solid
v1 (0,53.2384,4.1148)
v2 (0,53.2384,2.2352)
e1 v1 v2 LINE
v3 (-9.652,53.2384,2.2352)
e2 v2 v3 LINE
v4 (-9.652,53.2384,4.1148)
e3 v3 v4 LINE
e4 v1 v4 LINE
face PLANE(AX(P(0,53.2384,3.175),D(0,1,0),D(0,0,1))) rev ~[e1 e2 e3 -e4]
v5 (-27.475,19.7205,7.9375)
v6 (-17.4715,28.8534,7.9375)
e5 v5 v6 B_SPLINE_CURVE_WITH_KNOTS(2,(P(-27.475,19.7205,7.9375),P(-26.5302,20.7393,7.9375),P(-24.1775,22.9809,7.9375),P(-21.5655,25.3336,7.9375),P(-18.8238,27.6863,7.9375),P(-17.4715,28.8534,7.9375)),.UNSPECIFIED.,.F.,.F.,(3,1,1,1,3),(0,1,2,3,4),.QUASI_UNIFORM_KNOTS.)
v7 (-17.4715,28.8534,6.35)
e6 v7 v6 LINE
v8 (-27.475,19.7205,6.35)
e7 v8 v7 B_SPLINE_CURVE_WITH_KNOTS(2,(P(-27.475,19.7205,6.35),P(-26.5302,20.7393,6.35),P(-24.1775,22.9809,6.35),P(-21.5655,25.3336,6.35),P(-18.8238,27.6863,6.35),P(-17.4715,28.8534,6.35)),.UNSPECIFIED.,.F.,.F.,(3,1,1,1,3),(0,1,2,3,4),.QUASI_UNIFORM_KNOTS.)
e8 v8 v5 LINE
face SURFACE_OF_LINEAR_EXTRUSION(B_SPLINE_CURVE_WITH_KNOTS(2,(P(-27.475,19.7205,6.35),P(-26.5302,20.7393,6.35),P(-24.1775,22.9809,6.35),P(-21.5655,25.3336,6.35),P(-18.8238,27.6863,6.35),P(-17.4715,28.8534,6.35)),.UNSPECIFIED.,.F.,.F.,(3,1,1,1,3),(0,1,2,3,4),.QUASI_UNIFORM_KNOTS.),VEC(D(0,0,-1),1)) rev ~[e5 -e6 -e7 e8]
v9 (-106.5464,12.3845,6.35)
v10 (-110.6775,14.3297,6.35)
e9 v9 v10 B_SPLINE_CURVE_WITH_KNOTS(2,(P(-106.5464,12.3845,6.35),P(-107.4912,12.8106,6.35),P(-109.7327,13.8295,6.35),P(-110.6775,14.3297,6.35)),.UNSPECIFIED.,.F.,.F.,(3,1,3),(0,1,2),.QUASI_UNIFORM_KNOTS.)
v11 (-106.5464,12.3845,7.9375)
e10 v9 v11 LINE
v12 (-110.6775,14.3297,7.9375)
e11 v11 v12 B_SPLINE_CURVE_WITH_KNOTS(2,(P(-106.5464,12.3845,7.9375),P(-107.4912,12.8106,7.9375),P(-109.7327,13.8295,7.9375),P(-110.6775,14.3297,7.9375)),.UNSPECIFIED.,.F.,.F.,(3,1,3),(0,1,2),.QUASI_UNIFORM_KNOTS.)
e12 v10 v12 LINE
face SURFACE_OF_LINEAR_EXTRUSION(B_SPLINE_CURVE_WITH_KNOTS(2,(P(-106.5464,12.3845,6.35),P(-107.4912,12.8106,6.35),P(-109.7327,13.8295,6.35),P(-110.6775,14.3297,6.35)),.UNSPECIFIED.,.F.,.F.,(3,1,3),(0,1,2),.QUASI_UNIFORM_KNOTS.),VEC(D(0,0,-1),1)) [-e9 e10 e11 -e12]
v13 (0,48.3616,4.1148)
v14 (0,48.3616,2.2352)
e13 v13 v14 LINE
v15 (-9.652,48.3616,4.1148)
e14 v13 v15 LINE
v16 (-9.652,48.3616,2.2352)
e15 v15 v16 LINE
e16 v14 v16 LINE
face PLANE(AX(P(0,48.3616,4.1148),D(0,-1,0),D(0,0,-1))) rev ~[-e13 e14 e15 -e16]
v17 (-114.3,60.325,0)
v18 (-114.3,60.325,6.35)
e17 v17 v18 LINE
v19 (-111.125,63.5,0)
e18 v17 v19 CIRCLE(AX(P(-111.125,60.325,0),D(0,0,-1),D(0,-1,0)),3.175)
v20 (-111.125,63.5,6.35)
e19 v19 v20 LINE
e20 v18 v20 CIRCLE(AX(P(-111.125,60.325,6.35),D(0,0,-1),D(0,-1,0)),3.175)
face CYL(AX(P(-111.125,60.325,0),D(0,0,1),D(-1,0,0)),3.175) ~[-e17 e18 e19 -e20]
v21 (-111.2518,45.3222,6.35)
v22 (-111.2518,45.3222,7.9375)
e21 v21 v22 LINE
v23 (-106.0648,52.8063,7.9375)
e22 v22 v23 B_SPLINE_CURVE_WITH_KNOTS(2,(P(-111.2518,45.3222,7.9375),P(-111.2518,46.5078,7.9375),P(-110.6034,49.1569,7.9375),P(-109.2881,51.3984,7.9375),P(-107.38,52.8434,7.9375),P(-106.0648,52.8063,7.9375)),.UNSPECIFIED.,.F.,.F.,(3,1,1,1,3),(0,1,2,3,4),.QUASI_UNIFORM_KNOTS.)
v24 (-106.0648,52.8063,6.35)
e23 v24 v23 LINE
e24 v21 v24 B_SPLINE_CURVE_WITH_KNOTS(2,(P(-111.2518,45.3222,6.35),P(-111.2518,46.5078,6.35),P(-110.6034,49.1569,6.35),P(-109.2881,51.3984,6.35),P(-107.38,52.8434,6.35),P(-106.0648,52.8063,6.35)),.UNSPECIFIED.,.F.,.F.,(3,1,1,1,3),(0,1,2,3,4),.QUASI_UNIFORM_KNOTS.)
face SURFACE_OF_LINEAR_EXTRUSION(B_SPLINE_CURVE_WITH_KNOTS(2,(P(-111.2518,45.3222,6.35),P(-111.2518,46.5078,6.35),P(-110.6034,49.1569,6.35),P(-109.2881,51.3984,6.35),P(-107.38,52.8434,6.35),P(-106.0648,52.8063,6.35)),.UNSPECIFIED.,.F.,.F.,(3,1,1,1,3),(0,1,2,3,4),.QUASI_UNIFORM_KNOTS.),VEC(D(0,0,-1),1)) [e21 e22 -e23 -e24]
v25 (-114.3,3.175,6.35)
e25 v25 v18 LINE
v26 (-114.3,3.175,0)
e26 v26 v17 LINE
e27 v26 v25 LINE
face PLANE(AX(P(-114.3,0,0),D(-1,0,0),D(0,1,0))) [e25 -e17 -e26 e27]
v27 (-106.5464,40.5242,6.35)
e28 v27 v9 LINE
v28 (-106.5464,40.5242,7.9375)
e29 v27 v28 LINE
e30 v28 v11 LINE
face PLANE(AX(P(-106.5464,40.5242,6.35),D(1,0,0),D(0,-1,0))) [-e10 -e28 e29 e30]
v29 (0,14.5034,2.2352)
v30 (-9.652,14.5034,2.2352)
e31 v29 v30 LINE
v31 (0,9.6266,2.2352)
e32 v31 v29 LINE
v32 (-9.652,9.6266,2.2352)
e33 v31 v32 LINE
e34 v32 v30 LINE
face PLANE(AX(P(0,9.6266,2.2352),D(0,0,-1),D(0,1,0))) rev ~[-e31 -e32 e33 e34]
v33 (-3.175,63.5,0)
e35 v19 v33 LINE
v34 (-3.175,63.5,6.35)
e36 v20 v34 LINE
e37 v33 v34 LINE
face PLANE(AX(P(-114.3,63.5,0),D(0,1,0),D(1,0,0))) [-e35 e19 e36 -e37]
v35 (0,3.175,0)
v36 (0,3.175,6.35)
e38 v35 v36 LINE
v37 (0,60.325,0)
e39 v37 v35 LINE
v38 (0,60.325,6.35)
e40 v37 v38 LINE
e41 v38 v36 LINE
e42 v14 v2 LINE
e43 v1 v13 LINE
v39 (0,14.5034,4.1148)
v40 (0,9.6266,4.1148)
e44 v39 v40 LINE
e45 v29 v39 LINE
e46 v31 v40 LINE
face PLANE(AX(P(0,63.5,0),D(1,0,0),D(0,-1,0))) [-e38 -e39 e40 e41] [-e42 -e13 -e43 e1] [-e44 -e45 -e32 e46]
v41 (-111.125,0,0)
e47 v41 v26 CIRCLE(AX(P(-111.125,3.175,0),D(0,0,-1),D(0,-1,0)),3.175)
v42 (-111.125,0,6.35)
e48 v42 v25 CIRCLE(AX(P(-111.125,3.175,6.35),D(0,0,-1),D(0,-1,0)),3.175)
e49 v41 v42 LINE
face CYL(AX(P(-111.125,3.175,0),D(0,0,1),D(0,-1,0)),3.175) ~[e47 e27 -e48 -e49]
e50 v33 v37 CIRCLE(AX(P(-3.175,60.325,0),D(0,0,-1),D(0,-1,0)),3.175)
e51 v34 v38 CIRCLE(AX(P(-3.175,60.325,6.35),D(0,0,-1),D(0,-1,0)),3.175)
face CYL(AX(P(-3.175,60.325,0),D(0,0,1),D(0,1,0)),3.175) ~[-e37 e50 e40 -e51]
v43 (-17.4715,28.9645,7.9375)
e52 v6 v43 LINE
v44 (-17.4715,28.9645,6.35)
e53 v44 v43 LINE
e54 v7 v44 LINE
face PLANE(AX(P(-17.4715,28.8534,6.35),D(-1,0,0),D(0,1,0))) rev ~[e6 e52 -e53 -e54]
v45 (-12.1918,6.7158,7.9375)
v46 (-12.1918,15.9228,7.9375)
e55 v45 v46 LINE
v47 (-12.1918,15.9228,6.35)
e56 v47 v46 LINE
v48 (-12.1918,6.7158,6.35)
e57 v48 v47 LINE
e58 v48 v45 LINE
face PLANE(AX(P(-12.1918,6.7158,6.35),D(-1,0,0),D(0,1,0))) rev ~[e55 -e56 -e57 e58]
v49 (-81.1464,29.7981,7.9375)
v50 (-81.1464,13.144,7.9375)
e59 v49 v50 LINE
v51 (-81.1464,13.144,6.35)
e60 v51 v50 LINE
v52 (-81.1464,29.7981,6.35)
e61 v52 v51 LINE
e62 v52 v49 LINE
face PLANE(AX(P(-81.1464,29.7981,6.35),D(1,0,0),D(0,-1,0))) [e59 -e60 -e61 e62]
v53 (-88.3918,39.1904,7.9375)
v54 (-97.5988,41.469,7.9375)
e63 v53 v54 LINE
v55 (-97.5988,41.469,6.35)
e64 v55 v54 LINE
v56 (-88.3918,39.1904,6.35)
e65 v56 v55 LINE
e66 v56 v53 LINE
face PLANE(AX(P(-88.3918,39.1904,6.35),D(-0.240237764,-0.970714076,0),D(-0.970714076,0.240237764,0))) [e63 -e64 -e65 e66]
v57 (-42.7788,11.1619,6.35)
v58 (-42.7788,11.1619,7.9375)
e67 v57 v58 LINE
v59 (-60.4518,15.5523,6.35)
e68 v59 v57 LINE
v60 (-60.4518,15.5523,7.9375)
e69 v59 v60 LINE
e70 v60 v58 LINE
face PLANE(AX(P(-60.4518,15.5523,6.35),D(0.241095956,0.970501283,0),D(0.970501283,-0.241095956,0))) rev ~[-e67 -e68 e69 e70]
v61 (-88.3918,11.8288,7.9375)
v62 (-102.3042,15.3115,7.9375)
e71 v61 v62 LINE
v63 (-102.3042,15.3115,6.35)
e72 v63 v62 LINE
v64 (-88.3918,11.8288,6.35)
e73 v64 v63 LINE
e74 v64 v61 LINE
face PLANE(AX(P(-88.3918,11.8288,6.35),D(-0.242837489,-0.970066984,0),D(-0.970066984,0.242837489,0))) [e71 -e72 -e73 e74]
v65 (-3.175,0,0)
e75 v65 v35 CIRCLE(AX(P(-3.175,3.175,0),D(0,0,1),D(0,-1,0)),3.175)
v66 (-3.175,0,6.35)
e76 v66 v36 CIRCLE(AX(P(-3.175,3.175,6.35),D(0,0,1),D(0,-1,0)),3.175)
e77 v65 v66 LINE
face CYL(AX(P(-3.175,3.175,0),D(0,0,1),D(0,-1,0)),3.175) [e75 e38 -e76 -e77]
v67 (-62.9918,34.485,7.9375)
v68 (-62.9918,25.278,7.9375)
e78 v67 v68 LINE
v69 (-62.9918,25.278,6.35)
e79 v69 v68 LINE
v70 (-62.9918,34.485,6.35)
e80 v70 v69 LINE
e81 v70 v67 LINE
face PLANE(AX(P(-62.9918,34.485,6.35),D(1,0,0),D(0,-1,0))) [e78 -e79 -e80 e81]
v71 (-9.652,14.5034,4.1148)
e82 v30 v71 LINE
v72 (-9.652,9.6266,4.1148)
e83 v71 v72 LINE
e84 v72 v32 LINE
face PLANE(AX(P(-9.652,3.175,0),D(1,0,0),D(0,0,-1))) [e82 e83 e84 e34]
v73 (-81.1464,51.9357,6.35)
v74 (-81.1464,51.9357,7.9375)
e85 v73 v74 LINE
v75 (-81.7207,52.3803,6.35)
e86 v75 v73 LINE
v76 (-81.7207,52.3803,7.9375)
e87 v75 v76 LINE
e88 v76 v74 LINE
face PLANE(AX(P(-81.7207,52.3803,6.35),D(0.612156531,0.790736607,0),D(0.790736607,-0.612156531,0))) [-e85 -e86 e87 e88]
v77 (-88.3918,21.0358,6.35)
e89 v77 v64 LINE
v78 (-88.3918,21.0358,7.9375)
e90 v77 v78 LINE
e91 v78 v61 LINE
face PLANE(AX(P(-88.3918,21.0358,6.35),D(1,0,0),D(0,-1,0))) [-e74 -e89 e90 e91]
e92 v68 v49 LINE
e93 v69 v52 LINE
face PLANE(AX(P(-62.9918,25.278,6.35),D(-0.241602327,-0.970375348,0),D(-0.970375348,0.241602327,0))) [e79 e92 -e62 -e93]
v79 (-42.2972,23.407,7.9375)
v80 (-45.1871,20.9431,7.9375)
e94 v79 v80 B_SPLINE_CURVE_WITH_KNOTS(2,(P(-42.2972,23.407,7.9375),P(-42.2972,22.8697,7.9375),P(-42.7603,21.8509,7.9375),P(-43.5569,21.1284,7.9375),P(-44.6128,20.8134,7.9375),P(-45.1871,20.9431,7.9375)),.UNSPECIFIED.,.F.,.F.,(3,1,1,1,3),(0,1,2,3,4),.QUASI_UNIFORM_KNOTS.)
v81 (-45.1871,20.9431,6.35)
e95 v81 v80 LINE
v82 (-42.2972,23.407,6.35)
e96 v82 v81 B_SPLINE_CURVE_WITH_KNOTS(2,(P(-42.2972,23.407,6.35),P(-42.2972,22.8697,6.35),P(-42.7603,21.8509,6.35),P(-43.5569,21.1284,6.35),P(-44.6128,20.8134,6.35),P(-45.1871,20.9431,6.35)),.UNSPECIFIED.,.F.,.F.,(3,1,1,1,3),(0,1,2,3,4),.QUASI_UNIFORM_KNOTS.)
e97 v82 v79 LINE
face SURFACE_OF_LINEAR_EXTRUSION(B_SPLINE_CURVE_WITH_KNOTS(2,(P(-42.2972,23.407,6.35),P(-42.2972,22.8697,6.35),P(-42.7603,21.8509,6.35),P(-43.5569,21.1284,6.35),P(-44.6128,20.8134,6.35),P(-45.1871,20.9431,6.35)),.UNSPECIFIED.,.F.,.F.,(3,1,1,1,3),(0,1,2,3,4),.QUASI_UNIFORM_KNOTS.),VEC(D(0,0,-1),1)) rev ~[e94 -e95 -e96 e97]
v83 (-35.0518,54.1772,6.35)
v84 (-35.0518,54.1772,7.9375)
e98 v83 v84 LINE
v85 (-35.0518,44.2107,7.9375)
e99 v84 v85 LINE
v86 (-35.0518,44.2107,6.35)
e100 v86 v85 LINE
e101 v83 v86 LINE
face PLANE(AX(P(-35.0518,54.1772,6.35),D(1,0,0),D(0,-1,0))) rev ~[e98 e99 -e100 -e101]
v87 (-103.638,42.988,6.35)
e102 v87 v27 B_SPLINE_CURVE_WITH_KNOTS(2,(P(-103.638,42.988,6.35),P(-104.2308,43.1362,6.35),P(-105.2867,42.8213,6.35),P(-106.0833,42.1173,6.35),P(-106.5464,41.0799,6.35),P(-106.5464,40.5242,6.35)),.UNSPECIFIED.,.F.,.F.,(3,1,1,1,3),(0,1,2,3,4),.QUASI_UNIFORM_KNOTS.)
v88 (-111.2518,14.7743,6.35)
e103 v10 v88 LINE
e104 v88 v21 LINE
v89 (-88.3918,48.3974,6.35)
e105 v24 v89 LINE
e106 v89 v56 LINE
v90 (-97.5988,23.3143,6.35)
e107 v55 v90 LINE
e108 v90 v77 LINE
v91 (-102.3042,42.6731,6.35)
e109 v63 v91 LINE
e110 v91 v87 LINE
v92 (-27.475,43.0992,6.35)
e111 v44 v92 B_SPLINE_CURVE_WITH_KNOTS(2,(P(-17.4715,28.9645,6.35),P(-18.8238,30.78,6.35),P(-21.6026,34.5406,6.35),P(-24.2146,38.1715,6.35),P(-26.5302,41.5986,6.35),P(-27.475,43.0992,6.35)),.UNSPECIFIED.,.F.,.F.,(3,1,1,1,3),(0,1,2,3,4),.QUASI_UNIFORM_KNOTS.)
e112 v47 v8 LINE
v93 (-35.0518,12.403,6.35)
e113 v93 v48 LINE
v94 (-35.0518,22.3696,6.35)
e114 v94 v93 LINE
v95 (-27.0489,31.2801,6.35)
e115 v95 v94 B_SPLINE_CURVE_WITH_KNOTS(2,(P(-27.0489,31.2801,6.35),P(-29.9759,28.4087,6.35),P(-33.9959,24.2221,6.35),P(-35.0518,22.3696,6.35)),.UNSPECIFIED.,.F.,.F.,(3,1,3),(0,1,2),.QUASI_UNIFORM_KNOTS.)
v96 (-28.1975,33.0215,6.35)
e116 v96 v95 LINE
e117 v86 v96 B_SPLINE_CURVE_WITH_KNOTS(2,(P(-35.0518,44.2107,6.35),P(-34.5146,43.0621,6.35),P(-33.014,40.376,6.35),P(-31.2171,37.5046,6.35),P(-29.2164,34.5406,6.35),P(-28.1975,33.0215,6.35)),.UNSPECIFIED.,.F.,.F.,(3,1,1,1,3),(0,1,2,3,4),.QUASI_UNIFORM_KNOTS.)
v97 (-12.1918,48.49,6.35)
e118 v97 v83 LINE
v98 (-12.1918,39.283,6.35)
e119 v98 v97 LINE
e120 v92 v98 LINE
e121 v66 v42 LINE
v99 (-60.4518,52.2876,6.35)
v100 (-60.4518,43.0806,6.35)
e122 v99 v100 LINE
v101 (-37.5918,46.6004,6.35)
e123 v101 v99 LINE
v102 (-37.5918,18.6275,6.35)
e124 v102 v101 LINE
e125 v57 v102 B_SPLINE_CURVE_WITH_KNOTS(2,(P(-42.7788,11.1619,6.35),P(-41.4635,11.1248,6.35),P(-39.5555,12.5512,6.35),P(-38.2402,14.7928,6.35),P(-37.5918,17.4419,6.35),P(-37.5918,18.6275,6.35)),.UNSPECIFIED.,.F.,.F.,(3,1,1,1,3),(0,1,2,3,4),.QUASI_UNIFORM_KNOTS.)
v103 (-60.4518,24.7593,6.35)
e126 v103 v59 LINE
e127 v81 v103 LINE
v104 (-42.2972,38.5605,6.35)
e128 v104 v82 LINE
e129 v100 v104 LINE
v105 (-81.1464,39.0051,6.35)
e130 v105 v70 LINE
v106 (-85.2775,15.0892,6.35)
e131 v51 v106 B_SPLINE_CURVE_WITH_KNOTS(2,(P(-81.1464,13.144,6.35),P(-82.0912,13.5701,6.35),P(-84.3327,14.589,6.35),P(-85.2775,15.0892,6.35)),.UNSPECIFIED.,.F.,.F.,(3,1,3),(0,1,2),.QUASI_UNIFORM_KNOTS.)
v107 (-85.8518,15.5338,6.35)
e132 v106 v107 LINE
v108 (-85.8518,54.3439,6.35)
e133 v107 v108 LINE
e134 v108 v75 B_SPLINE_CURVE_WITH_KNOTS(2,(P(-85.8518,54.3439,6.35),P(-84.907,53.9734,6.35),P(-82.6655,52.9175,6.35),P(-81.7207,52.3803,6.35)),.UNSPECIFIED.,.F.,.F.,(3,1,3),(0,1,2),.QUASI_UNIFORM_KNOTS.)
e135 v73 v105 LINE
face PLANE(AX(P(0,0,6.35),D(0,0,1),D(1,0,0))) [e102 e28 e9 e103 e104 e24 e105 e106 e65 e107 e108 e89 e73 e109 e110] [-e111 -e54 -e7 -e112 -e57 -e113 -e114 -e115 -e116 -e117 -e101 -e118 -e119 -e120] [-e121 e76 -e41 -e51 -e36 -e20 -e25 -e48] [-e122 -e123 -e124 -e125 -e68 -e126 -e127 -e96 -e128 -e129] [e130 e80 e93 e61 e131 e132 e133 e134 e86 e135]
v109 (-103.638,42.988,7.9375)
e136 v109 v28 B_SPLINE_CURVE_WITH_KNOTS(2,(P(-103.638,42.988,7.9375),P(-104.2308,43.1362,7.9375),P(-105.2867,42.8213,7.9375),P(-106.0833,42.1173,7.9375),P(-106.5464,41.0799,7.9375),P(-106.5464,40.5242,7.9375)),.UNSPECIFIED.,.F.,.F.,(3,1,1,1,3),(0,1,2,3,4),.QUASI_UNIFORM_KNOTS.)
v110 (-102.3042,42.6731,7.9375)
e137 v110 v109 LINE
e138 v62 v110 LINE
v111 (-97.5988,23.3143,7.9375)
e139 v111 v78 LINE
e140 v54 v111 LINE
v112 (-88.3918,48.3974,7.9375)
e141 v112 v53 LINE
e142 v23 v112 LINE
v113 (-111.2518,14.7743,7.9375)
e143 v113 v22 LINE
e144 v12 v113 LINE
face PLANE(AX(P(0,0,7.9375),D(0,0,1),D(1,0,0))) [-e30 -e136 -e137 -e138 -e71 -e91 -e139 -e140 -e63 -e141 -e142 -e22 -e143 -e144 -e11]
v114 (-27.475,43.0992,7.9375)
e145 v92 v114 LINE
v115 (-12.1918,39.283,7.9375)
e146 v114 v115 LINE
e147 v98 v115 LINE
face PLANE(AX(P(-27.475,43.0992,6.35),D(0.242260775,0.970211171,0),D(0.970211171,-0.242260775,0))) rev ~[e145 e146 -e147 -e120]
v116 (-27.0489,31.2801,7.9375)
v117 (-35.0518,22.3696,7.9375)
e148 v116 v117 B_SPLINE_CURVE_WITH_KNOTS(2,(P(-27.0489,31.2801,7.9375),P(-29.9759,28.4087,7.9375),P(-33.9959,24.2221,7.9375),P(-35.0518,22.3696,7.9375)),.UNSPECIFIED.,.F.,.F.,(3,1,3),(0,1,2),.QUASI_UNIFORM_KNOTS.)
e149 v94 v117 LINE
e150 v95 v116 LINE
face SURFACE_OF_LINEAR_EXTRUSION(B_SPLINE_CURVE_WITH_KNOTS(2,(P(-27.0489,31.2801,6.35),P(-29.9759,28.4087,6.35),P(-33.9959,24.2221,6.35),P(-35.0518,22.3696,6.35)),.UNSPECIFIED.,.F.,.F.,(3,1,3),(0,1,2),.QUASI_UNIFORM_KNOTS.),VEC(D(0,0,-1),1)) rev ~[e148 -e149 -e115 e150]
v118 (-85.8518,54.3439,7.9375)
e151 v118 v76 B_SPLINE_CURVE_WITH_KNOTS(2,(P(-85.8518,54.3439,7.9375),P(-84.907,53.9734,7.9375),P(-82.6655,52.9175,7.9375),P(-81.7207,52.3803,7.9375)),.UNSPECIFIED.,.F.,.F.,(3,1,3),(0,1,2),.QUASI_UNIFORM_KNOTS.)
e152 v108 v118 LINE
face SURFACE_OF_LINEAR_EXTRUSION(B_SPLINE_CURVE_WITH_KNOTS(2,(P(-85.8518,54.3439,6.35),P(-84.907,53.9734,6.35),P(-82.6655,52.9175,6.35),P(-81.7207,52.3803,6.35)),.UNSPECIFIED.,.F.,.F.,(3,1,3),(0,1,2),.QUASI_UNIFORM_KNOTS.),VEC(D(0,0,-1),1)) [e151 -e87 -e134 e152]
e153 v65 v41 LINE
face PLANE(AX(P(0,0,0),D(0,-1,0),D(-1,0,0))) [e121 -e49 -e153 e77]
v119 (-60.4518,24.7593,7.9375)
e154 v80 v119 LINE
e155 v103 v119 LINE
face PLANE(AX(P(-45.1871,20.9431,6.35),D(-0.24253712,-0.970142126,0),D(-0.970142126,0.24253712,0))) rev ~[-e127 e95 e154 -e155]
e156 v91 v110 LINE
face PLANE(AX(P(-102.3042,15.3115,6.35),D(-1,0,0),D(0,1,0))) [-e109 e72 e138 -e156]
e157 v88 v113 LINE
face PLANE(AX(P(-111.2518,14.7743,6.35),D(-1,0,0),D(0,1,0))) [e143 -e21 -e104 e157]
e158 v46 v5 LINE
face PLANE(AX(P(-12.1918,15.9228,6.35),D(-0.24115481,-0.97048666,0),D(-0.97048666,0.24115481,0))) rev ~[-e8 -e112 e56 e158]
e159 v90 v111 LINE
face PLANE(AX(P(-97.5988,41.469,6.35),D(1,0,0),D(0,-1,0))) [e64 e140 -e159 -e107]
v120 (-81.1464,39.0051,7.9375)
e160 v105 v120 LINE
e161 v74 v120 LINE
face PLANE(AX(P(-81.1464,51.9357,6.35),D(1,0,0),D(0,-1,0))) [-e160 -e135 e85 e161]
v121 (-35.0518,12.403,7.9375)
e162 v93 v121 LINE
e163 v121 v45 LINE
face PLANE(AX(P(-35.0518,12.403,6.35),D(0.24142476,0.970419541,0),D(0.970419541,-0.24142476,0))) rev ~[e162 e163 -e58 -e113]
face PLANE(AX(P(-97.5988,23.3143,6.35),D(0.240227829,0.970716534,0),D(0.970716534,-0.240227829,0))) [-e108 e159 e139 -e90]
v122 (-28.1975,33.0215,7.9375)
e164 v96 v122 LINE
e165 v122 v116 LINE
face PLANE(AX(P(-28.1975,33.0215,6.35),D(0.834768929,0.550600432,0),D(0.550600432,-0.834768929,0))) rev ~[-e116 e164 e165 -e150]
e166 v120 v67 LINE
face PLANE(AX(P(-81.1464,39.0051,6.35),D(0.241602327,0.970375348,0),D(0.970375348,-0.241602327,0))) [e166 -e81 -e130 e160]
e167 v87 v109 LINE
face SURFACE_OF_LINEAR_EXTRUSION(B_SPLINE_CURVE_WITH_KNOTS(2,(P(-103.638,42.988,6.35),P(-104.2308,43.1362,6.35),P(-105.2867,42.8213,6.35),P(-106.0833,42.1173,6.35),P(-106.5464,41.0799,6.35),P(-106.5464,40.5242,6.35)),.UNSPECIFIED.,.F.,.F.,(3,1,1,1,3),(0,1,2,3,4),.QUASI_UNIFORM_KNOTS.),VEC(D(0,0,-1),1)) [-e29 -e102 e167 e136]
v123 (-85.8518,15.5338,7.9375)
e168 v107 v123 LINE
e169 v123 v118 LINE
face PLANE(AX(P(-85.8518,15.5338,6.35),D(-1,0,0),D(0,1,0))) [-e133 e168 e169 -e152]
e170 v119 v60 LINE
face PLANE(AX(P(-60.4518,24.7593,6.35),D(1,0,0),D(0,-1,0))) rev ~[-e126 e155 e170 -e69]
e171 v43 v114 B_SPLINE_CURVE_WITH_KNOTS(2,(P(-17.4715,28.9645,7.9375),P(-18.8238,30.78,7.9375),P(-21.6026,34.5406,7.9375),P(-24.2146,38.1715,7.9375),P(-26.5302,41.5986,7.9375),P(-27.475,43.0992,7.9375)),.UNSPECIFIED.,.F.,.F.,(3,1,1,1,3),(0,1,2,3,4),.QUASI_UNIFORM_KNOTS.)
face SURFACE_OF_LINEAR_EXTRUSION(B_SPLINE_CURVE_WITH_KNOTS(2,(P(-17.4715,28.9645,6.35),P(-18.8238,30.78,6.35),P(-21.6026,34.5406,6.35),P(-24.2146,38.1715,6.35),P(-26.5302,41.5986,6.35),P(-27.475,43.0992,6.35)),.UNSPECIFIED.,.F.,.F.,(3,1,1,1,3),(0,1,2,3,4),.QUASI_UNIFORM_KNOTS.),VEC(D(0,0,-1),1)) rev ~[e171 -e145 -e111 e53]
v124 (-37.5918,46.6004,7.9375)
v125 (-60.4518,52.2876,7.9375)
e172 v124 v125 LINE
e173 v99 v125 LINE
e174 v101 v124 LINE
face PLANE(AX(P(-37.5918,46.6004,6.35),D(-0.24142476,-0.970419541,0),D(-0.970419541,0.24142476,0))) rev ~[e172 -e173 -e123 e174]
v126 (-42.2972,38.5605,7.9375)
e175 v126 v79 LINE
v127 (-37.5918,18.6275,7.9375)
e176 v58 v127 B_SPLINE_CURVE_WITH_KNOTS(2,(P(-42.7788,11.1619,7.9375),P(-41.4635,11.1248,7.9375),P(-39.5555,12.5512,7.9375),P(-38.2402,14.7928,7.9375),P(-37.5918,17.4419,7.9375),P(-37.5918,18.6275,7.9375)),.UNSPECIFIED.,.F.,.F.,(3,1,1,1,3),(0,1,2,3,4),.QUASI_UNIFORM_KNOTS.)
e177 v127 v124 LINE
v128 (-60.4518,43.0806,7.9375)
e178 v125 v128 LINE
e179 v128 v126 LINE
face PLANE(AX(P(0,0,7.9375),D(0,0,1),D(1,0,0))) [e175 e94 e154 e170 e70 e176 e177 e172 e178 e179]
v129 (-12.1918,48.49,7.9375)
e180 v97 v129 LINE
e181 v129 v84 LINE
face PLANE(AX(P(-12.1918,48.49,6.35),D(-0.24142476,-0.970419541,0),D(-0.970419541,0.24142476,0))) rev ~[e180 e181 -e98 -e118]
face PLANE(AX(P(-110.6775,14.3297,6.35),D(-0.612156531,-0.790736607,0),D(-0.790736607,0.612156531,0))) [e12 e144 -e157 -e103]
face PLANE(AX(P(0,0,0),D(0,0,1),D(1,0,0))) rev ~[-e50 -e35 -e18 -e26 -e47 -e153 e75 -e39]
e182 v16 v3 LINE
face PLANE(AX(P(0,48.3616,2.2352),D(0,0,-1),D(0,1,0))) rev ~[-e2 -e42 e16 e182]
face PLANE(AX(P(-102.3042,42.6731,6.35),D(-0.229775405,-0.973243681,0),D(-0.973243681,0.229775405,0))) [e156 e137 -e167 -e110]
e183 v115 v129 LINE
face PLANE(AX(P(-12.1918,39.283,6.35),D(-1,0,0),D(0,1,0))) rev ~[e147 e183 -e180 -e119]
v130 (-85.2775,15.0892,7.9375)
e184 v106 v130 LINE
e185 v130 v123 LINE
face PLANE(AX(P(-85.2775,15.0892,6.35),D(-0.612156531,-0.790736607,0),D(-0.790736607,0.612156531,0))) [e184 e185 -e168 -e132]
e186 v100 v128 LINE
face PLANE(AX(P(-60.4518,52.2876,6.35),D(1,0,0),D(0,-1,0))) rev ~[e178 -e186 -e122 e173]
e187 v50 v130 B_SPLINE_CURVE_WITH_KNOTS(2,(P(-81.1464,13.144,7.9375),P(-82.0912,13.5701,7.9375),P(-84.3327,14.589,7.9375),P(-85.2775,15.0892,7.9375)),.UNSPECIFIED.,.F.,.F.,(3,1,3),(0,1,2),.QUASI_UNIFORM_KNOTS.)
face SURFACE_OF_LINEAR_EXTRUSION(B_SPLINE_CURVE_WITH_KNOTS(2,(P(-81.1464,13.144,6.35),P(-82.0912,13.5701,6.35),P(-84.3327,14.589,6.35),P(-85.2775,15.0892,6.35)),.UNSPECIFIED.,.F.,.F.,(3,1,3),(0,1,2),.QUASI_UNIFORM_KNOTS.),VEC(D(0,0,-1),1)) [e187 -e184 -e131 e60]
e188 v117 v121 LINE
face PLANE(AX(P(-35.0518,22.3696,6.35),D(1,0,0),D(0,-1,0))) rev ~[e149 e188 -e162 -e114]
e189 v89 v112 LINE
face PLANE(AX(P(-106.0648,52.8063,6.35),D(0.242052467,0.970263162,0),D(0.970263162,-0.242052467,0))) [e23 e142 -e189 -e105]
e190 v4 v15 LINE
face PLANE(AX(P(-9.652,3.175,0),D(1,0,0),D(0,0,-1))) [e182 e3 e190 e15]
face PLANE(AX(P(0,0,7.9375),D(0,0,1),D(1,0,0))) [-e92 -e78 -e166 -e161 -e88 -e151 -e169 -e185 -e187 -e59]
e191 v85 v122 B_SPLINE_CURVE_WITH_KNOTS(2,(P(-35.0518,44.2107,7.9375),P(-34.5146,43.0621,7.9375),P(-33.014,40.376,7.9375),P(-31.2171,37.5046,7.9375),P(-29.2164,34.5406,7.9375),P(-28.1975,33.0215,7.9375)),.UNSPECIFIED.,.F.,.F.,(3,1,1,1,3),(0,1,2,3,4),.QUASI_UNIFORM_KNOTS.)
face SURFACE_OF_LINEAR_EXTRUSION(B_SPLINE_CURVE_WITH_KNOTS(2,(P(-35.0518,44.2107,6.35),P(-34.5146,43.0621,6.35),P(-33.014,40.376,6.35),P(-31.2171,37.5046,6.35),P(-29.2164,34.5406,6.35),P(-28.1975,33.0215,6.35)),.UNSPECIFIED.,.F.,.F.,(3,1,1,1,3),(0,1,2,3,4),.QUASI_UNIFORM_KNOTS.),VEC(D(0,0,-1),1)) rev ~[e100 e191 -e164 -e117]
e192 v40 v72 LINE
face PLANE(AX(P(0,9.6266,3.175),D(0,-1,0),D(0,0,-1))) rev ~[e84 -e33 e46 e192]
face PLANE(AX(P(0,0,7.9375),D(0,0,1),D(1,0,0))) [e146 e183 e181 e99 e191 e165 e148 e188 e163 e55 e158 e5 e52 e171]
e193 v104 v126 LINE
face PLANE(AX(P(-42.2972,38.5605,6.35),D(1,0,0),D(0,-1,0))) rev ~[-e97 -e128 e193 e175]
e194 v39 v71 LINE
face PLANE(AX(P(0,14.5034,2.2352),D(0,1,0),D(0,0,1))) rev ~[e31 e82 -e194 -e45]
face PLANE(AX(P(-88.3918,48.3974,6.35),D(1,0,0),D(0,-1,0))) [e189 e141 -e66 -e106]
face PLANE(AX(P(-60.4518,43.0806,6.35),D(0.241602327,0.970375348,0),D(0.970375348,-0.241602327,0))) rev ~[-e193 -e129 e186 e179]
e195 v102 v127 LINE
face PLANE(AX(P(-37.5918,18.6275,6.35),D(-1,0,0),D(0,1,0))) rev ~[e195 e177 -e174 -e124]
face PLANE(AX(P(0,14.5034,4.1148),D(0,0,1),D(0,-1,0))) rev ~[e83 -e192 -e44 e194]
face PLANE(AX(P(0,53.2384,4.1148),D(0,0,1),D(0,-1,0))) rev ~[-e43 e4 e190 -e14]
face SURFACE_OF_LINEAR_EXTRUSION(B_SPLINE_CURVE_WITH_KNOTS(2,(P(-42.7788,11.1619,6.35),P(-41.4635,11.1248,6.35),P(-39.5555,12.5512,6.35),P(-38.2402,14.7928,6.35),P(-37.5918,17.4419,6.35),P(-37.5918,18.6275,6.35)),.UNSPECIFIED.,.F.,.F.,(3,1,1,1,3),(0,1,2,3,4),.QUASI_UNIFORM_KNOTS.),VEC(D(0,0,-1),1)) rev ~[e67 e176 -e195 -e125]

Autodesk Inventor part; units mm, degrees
ref_plane "YZ Plane" through (0, 0, 0) normal (1, 0, 0) x (0, 1, 0)
ref_plane "XZ Plane" through (0, 0, 0) normal (0, 1, 0) x (-1, 0, 0)
sketch "Sketch1" plane through (0, 0, 0) normal (0, 0, 1) x (1, 0, 0)
  line L0 (0, 0) -> (-114.3, 0)
  line L1 (-114.3, 0) -> (-114.3, 63.5)
  line L2 (-114.3, 63.5) -> (0, 63.5)
  line L3 (0, 63.5) -> (0, 0)
  dimension "d7" = 114.3
  dimension "d8" = 63.5
extrude "Extrusion1" add sketch "Sketch1" along normal blind 6.35
sketch "Sketch2" plane through (0, 0, 6.35) normal (0, 0, 1) x (1, 0, 0)
  line L0 (0, 0) -> (0, 63.5) projected
  line L1 (-114.3, 63.5) -> (-114.3, 0) projected
  line L2 (-114.3, 0) -> (0, 0) projected
  line L3 (0, 63.5) -> (-114.3, 63.5) projected
sketch "Sketch3" plane through (0, 0, 6.35) normal (0, 0, 1) x (1, 0, 0)
  line L0 (-110.6716, 35.2666) -> (-52.0005, 35.2666) construction
  line L1 (-52.0005, 35.2666) -> (-52.0005, 28.3217) construction
  line L2 (-52.0005, 28.3217) -> (-110.6716, 28.3217) construction
  line L3 (-110.6716, 28.3217) -> (-110.6716, 35.2666) construction
  line L4 (-114.3, 63.5) -> (-114.3, 0) projected
  point P0 (0, 0)
extrude "Extrusion2" [suppressed]
fillet "Fillet2" radius 3.175 4 edges at (-114.3, 63.5, 3.175) (-114.3, 0, 3.175) (0, 0, 3.175) (0, 63.5, 3.175)
sketch "Sketch4" plane through (0, 0, 6.35) normal (0, 0, 1) x (1, 0, 0)
  point P0 (0, 0)
sketch "Sketch5" plane through (0, 0, 6.35) normal (0, 0, 1) x (1, 0, 0)
  point P0 (0, 0)
sketch "Sketch6" plane through (0, 0, 6.35) normal (0, 0, 1) x (1, 0, 0)
  point P0 (0, 0)
ref_plane "Work Plane1" through (-57.15, 3.175, 0) normal (1, 0, 0) x (0, 0, -1)
sketch "Sketch7" plane through (-111.125, 63.5, 0) normal (0, 1, 0) x (1, 0, 0)
  line L0 (107.95, -6.35) -> (0, -6.35) projected
  line L1 (107.95, 0) -> (0, 0) projected
  line L2 (0, -6.35) -> (0, -3.175)
  line L3 (0, -6.35) -> (0, 0) projected
  line L4 (0, 0) -> (0, -6.35) projected
  line L5 (0, -6.35) -> (0, -3.5306)
  line L6 (0, -3.5306) -> (6.985, -3.5306)
  line L7 (6.985, -3.5306) -> (11.8618, -3.5306)
  line L8 (11.8618, -3.5306) -> (11.8618, -1.651)
  line L9 (11.8618, -1.651) -> (6.985, -1.651)
  line L10 (6.985, -1.651) -> (6.985, -3.5306)
  point P0 (111.125, 0)
  dimension "d24" = 4.8768
  dimension "d25" = 1.8796
  dimension "d26" = 2.8194
  dimension "d27" = 6.985
extrude "Extrusion3" [suppressed]
sketch "Sketch8" plane through (-111.125, 0, 0) normal (0, -1, 0) x (1, 0, 0)
  line L0 (0, 0) -> (0, 6.35) projected
  line L1 (6.985, 3.5306) -> (6.985, 1.651) projected
  line L2 (11.8618, 1.651) -> (11.8618, 3.5306) projected
  line L3 (6.985, 1.651) -> (11.8618, 1.651)
  line L4 (11.8618, 1.651) -> (11.8618, 3.5306)
  line L5 (11.8618, 3.5306) -> (6.985, 3.5306)
  line L6 (6.985, 3.5306) -> (6.985, 1.651)
  line L7 (0, 0) -> (107.95, 0) projected
  point P0 (111.125, 0)
extrude "Extrusion4" [suppressed]
mirror "Mirror1" [suppressed]
mirror "Mirror2" [suppressed]
sketch "Sketch9" plane through (0, 0, 6.35) normal (0, 0, 1) x (1, 0, 0)
  point P0 (0, 0)
sketch "Sketch10" plane through (0, 0, 6.35) normal (0, 0, 1) x (1, 0, 0)
  line L0 (-111.2518, 27.0157) -> (-111.2518, 30.2464) construction
  line L1 (-111.2518, 30.2464) -> (-93.1484, 30.2464) construction
  line L2 (-93.1484, 30.2464) -> (-93.1484, 27.0157) construction
  line L3 (-93.1484, 27.0157) -> (-111.2518, 27.0157) construction
  line L4 (-114.3, 60.325) -> (-114.3, 3.175) projected
  line L5 (-114.3, 60.325) -> (-114.3, 3.175)
  line L6 (-114.3, 3.175) -> (-114.3, 31.75)
  line L7 (0, 3.175) -> (0, 60.325) projected
  line L8 (-88.3918, 11.8288) -> (-102.3042, 15.3115)
  line L9 (-102.3042, 15.3115) -> (-102.3042, 42.6731)
  line L10 (-102.3042, 42.6731) -> (-103.638, 42.988)
  spline S0 degree 2 poles (-103.638, 42.988) (-104.2308, 43.1362) (-105.2867, 42.8213) (-106.0833, 42.1173) (-106.5464, 41.0799) (-106.5464, 40.5242) knots 0 0 0 1 2 3 4 4 4
  line L11 (-106.5464, 40.5242) -> (-106.5464, 12.3845)
  spline S1 degree 2 poles (-106.5464, 12.3845) (-107.4912, 12.8106) (-109.7327, 13.8295) (-110.6775, 14.3297) knots 0 0 0 1 2 2 2
  line L12 (-110.6775, 14.3297) -> (-111.2518, 14.7743)
  line L13 (-111.2518, 14.7743) -> (-111.2518, 45.3222)
  spline S2 degree 2 poles (-111.2518, 45.3222) (-111.2518, 46.5078) (-110.6034, 49.1569) (-109.2881, 51.3984) (-107.38, 52.8434) (-106.0648, 52.8063) knots 0 0 0 1 2 3 4 4 4
  line L14 (-106.0648, 52.8063) -> (-88.3918, 48.3974)
  line L15 (-88.3918, 48.3974) -> (-88.3918, 39.1904)
  line L16 (-88.3918, 39.1904) -> (-97.5988, 41.469)
  line L17 (-97.5988, 41.469) -> (-97.5988, 23.3143)
  line L18 (-97.5988, 23.3143) -> (-88.3918, 21.0358)
  line L19 (-88.3918, 21.0358) -> (-88.3918, 11.8288)
  spline S3 degree 2 poles (-81.1464, 13.144) (-82.0912, 13.5701) (-84.3327, 14.589) (-85.2775, 15.0892) knots 0 0 0 1 2 2 2
  line L20 (-85.2775, 15.0892) -> (-85.8518, 15.5338)
  line L21 (-85.8518, 15.5338) -> (-85.8518, 54.3439)
  spline S4 degree 2 poles (-85.8518, 54.3439) (-84.907, 53.9734) (-82.6655, 52.9175) (-81.7207, 52.3803) knots 0 0 0 1 2 2 2
  line L22 (-81.7207, 52.3803) -> (-81.1464, 51.9357)
  line L23 (-81.1464, 51.9357) -> (-81.1464, 39.0051)
  line L24 (-81.1464, 39.0051) -> (-62.9918, 34.485)
  line L25 (-62.9918, 34.485) -> (-62.9918, 25.278)
  line L26 (-62.9918, 25.278) -> (-81.1464, 29.7981)
  line L27 (-81.1464, 29.7981) -> (-81.1464, 13.144)
  spline S5 degree 2 poles (-42.7788, 11.1619) (-41.4635, 11.1248) (-39.5555, 12.5512) (-38.2402, 14.7928) (-37.5918, 17.4419) (-37.5918, 18.6275) knots 0 0 0 1 2 3 4 4 4
  line L28 (-37.5918, 18.6275) -> (-37.5918, 46.6004)
  line L29 (-37.5918, 46.6004) -> (-60.4518, 52.2876)
  line L30 (-60.4518, 52.2876) -> (-60.4518, 43.0806)
  line L31 (-60.4518, 43.0806) -> (-42.2972, 38.5605)
  line L32 (-42.2972, 38.5605) -> (-42.2972, 23.407)
  spline S6 degree 2 poles (-42.2972, 23.407) (-42.2972, 22.8697) (-42.7603, 21.8509) (-43.5569, 21.1284) (-44.6128, 20.8134) (-45.1871, 20.9431) knots 0 0 0 1 2 3 4 4 4
  line L33 (-45.1871, 20.9431) -> (-60.4518, 24.7593)
  line L34 (-60.4518, 24.7593) -> (-60.4518, 15.5523)
  line L35 (-60.4518, 15.5523) -> (-42.7788, 11.1619)
  line L36 (-35.0518, 12.403) -> (-12.1918, 6.7158)
  line L37 (-12.1918, 6.7158) -> (-12.1918, 15.9228)
  line L38 (-12.1918, 15.9228) -> (-27.475, 19.7205)
  spline S7 degree 2 poles (-27.475, 19.7205) (-26.5302, 20.7393) (-24.1775, 22.9809) (-21.5655, 25.3336) (-18.8238, 27.6863) (-17.4715, 28.8534) knots 0 0 0 1 2 3 4 4 4
  line L39 (-17.4715, 28.8534) -> (-17.4715, 28.9645)
  spline S8 degree 2 poles (-17.4715, 28.9645) (-18.8238, 30.78) (-21.6026, 34.5406) (-24.2146, 38.1715) (-26.5302, 41.5986) (-27.475, 43.0992) knots 0 0 0 1 2 3 4 4 4
  line L40 (-27.475, 43.0992) -> (-12.1918, 39.283)
  line L41 (-12.1918, 39.283) -> (-12.1918, 48.49)
  line L42 (-12.1918, 48.49) -> (-35.0518, 54.1772)
  line L43 (-35.0518, 54.1772) -> (-35.0518, 44.2107)
  spline S9 degree 2 poles (-35.0518, 44.2107) (-34.5146, 43.0621) (-33.014, 40.376) (-31.2171, 37.5046) (-29.2164, 34.5406) (-28.1975, 33.0215) knots 0 0 0 1 2 3 4 4 4
  line L44 (-28.1975, 33.0215) -> (-27.0489, 31.2801)
  spline S10 degree 2 poles (-27.0489, 31.2801) (-29.9759, 28.4087) (-33.9959, 24.2221) (-35.0518, 22.3696) knots 0 0 0 1 2 2 2
  line L45 (-35.0518, 22.3696) -> (-35.0518, 12.403)
  point P0 (0, 0)
sketch "Sketch11" plane through (0, 3.175, 0) normal (1, 0, 0) x (0, 0, -1)
  line L0 (0, 0) -> (-6.35, 0) projected
  line L1 (-3.175, 0) -> (-3.175, 8.89)
  line L2 (-4.1148, 6.4516) -> (-2.2352, 6.4516)
  line L3 (-2.2352, 6.4516) -> (-2.2352, 11.3284)
  line L4 (-2.2352, 11.3284) -> (-4.1148, 11.3284)
  line L5 (-4.1148, 11.3284) -> (-4.1148, 6.4516)
  line L6 (-4.1148, 6.4516) -> (-2.2352, 11.3284) construction
  line L7 (-2.2352, 6.4516) -> (-4.1148, 11.3284) construction
  line L8 (0, 60.325) -> (-6.35, 60.325) projected
  line L9 (-3.175, 60.325) -> (-3.175, 47.625)
  line L10 (-4.1148, 45.1866) -> (-2.2352, 45.1866)
  line L11 (-2.2352, 45.1866) -> (-2.2352, 50.0634)
  line L12 (-2.2352, 50.0634) -> (-4.1148, 50.0634)
  line L13 (-4.1148, 50.0634) -> (-4.1148, 45.1866)
  line L14 (-4.1148, 45.1866) -> (-2.2352, 50.0634) construction
  line L15 (-2.2352, 45.1866) -> (-4.1148, 50.0634) construction
  point P0 (0, -3.175)
  point P1 (-2.2352, 47.625)
  dimension "d29" = 8.89
  dimension "d30" = 12.7
  dimension "d31" = 4.8768
  dimension "d32" = 1.8796
  dimension "d33" = 4.8768
  dimension "d34" = 1.8796
extrude "Extrusion5" cut sketch "Sketch11" against normal blind 9.652
extrude "Extrusion6" add sketch "Sketch10" along normal blind 1.5875
properties part number "custom  plate vertical"
